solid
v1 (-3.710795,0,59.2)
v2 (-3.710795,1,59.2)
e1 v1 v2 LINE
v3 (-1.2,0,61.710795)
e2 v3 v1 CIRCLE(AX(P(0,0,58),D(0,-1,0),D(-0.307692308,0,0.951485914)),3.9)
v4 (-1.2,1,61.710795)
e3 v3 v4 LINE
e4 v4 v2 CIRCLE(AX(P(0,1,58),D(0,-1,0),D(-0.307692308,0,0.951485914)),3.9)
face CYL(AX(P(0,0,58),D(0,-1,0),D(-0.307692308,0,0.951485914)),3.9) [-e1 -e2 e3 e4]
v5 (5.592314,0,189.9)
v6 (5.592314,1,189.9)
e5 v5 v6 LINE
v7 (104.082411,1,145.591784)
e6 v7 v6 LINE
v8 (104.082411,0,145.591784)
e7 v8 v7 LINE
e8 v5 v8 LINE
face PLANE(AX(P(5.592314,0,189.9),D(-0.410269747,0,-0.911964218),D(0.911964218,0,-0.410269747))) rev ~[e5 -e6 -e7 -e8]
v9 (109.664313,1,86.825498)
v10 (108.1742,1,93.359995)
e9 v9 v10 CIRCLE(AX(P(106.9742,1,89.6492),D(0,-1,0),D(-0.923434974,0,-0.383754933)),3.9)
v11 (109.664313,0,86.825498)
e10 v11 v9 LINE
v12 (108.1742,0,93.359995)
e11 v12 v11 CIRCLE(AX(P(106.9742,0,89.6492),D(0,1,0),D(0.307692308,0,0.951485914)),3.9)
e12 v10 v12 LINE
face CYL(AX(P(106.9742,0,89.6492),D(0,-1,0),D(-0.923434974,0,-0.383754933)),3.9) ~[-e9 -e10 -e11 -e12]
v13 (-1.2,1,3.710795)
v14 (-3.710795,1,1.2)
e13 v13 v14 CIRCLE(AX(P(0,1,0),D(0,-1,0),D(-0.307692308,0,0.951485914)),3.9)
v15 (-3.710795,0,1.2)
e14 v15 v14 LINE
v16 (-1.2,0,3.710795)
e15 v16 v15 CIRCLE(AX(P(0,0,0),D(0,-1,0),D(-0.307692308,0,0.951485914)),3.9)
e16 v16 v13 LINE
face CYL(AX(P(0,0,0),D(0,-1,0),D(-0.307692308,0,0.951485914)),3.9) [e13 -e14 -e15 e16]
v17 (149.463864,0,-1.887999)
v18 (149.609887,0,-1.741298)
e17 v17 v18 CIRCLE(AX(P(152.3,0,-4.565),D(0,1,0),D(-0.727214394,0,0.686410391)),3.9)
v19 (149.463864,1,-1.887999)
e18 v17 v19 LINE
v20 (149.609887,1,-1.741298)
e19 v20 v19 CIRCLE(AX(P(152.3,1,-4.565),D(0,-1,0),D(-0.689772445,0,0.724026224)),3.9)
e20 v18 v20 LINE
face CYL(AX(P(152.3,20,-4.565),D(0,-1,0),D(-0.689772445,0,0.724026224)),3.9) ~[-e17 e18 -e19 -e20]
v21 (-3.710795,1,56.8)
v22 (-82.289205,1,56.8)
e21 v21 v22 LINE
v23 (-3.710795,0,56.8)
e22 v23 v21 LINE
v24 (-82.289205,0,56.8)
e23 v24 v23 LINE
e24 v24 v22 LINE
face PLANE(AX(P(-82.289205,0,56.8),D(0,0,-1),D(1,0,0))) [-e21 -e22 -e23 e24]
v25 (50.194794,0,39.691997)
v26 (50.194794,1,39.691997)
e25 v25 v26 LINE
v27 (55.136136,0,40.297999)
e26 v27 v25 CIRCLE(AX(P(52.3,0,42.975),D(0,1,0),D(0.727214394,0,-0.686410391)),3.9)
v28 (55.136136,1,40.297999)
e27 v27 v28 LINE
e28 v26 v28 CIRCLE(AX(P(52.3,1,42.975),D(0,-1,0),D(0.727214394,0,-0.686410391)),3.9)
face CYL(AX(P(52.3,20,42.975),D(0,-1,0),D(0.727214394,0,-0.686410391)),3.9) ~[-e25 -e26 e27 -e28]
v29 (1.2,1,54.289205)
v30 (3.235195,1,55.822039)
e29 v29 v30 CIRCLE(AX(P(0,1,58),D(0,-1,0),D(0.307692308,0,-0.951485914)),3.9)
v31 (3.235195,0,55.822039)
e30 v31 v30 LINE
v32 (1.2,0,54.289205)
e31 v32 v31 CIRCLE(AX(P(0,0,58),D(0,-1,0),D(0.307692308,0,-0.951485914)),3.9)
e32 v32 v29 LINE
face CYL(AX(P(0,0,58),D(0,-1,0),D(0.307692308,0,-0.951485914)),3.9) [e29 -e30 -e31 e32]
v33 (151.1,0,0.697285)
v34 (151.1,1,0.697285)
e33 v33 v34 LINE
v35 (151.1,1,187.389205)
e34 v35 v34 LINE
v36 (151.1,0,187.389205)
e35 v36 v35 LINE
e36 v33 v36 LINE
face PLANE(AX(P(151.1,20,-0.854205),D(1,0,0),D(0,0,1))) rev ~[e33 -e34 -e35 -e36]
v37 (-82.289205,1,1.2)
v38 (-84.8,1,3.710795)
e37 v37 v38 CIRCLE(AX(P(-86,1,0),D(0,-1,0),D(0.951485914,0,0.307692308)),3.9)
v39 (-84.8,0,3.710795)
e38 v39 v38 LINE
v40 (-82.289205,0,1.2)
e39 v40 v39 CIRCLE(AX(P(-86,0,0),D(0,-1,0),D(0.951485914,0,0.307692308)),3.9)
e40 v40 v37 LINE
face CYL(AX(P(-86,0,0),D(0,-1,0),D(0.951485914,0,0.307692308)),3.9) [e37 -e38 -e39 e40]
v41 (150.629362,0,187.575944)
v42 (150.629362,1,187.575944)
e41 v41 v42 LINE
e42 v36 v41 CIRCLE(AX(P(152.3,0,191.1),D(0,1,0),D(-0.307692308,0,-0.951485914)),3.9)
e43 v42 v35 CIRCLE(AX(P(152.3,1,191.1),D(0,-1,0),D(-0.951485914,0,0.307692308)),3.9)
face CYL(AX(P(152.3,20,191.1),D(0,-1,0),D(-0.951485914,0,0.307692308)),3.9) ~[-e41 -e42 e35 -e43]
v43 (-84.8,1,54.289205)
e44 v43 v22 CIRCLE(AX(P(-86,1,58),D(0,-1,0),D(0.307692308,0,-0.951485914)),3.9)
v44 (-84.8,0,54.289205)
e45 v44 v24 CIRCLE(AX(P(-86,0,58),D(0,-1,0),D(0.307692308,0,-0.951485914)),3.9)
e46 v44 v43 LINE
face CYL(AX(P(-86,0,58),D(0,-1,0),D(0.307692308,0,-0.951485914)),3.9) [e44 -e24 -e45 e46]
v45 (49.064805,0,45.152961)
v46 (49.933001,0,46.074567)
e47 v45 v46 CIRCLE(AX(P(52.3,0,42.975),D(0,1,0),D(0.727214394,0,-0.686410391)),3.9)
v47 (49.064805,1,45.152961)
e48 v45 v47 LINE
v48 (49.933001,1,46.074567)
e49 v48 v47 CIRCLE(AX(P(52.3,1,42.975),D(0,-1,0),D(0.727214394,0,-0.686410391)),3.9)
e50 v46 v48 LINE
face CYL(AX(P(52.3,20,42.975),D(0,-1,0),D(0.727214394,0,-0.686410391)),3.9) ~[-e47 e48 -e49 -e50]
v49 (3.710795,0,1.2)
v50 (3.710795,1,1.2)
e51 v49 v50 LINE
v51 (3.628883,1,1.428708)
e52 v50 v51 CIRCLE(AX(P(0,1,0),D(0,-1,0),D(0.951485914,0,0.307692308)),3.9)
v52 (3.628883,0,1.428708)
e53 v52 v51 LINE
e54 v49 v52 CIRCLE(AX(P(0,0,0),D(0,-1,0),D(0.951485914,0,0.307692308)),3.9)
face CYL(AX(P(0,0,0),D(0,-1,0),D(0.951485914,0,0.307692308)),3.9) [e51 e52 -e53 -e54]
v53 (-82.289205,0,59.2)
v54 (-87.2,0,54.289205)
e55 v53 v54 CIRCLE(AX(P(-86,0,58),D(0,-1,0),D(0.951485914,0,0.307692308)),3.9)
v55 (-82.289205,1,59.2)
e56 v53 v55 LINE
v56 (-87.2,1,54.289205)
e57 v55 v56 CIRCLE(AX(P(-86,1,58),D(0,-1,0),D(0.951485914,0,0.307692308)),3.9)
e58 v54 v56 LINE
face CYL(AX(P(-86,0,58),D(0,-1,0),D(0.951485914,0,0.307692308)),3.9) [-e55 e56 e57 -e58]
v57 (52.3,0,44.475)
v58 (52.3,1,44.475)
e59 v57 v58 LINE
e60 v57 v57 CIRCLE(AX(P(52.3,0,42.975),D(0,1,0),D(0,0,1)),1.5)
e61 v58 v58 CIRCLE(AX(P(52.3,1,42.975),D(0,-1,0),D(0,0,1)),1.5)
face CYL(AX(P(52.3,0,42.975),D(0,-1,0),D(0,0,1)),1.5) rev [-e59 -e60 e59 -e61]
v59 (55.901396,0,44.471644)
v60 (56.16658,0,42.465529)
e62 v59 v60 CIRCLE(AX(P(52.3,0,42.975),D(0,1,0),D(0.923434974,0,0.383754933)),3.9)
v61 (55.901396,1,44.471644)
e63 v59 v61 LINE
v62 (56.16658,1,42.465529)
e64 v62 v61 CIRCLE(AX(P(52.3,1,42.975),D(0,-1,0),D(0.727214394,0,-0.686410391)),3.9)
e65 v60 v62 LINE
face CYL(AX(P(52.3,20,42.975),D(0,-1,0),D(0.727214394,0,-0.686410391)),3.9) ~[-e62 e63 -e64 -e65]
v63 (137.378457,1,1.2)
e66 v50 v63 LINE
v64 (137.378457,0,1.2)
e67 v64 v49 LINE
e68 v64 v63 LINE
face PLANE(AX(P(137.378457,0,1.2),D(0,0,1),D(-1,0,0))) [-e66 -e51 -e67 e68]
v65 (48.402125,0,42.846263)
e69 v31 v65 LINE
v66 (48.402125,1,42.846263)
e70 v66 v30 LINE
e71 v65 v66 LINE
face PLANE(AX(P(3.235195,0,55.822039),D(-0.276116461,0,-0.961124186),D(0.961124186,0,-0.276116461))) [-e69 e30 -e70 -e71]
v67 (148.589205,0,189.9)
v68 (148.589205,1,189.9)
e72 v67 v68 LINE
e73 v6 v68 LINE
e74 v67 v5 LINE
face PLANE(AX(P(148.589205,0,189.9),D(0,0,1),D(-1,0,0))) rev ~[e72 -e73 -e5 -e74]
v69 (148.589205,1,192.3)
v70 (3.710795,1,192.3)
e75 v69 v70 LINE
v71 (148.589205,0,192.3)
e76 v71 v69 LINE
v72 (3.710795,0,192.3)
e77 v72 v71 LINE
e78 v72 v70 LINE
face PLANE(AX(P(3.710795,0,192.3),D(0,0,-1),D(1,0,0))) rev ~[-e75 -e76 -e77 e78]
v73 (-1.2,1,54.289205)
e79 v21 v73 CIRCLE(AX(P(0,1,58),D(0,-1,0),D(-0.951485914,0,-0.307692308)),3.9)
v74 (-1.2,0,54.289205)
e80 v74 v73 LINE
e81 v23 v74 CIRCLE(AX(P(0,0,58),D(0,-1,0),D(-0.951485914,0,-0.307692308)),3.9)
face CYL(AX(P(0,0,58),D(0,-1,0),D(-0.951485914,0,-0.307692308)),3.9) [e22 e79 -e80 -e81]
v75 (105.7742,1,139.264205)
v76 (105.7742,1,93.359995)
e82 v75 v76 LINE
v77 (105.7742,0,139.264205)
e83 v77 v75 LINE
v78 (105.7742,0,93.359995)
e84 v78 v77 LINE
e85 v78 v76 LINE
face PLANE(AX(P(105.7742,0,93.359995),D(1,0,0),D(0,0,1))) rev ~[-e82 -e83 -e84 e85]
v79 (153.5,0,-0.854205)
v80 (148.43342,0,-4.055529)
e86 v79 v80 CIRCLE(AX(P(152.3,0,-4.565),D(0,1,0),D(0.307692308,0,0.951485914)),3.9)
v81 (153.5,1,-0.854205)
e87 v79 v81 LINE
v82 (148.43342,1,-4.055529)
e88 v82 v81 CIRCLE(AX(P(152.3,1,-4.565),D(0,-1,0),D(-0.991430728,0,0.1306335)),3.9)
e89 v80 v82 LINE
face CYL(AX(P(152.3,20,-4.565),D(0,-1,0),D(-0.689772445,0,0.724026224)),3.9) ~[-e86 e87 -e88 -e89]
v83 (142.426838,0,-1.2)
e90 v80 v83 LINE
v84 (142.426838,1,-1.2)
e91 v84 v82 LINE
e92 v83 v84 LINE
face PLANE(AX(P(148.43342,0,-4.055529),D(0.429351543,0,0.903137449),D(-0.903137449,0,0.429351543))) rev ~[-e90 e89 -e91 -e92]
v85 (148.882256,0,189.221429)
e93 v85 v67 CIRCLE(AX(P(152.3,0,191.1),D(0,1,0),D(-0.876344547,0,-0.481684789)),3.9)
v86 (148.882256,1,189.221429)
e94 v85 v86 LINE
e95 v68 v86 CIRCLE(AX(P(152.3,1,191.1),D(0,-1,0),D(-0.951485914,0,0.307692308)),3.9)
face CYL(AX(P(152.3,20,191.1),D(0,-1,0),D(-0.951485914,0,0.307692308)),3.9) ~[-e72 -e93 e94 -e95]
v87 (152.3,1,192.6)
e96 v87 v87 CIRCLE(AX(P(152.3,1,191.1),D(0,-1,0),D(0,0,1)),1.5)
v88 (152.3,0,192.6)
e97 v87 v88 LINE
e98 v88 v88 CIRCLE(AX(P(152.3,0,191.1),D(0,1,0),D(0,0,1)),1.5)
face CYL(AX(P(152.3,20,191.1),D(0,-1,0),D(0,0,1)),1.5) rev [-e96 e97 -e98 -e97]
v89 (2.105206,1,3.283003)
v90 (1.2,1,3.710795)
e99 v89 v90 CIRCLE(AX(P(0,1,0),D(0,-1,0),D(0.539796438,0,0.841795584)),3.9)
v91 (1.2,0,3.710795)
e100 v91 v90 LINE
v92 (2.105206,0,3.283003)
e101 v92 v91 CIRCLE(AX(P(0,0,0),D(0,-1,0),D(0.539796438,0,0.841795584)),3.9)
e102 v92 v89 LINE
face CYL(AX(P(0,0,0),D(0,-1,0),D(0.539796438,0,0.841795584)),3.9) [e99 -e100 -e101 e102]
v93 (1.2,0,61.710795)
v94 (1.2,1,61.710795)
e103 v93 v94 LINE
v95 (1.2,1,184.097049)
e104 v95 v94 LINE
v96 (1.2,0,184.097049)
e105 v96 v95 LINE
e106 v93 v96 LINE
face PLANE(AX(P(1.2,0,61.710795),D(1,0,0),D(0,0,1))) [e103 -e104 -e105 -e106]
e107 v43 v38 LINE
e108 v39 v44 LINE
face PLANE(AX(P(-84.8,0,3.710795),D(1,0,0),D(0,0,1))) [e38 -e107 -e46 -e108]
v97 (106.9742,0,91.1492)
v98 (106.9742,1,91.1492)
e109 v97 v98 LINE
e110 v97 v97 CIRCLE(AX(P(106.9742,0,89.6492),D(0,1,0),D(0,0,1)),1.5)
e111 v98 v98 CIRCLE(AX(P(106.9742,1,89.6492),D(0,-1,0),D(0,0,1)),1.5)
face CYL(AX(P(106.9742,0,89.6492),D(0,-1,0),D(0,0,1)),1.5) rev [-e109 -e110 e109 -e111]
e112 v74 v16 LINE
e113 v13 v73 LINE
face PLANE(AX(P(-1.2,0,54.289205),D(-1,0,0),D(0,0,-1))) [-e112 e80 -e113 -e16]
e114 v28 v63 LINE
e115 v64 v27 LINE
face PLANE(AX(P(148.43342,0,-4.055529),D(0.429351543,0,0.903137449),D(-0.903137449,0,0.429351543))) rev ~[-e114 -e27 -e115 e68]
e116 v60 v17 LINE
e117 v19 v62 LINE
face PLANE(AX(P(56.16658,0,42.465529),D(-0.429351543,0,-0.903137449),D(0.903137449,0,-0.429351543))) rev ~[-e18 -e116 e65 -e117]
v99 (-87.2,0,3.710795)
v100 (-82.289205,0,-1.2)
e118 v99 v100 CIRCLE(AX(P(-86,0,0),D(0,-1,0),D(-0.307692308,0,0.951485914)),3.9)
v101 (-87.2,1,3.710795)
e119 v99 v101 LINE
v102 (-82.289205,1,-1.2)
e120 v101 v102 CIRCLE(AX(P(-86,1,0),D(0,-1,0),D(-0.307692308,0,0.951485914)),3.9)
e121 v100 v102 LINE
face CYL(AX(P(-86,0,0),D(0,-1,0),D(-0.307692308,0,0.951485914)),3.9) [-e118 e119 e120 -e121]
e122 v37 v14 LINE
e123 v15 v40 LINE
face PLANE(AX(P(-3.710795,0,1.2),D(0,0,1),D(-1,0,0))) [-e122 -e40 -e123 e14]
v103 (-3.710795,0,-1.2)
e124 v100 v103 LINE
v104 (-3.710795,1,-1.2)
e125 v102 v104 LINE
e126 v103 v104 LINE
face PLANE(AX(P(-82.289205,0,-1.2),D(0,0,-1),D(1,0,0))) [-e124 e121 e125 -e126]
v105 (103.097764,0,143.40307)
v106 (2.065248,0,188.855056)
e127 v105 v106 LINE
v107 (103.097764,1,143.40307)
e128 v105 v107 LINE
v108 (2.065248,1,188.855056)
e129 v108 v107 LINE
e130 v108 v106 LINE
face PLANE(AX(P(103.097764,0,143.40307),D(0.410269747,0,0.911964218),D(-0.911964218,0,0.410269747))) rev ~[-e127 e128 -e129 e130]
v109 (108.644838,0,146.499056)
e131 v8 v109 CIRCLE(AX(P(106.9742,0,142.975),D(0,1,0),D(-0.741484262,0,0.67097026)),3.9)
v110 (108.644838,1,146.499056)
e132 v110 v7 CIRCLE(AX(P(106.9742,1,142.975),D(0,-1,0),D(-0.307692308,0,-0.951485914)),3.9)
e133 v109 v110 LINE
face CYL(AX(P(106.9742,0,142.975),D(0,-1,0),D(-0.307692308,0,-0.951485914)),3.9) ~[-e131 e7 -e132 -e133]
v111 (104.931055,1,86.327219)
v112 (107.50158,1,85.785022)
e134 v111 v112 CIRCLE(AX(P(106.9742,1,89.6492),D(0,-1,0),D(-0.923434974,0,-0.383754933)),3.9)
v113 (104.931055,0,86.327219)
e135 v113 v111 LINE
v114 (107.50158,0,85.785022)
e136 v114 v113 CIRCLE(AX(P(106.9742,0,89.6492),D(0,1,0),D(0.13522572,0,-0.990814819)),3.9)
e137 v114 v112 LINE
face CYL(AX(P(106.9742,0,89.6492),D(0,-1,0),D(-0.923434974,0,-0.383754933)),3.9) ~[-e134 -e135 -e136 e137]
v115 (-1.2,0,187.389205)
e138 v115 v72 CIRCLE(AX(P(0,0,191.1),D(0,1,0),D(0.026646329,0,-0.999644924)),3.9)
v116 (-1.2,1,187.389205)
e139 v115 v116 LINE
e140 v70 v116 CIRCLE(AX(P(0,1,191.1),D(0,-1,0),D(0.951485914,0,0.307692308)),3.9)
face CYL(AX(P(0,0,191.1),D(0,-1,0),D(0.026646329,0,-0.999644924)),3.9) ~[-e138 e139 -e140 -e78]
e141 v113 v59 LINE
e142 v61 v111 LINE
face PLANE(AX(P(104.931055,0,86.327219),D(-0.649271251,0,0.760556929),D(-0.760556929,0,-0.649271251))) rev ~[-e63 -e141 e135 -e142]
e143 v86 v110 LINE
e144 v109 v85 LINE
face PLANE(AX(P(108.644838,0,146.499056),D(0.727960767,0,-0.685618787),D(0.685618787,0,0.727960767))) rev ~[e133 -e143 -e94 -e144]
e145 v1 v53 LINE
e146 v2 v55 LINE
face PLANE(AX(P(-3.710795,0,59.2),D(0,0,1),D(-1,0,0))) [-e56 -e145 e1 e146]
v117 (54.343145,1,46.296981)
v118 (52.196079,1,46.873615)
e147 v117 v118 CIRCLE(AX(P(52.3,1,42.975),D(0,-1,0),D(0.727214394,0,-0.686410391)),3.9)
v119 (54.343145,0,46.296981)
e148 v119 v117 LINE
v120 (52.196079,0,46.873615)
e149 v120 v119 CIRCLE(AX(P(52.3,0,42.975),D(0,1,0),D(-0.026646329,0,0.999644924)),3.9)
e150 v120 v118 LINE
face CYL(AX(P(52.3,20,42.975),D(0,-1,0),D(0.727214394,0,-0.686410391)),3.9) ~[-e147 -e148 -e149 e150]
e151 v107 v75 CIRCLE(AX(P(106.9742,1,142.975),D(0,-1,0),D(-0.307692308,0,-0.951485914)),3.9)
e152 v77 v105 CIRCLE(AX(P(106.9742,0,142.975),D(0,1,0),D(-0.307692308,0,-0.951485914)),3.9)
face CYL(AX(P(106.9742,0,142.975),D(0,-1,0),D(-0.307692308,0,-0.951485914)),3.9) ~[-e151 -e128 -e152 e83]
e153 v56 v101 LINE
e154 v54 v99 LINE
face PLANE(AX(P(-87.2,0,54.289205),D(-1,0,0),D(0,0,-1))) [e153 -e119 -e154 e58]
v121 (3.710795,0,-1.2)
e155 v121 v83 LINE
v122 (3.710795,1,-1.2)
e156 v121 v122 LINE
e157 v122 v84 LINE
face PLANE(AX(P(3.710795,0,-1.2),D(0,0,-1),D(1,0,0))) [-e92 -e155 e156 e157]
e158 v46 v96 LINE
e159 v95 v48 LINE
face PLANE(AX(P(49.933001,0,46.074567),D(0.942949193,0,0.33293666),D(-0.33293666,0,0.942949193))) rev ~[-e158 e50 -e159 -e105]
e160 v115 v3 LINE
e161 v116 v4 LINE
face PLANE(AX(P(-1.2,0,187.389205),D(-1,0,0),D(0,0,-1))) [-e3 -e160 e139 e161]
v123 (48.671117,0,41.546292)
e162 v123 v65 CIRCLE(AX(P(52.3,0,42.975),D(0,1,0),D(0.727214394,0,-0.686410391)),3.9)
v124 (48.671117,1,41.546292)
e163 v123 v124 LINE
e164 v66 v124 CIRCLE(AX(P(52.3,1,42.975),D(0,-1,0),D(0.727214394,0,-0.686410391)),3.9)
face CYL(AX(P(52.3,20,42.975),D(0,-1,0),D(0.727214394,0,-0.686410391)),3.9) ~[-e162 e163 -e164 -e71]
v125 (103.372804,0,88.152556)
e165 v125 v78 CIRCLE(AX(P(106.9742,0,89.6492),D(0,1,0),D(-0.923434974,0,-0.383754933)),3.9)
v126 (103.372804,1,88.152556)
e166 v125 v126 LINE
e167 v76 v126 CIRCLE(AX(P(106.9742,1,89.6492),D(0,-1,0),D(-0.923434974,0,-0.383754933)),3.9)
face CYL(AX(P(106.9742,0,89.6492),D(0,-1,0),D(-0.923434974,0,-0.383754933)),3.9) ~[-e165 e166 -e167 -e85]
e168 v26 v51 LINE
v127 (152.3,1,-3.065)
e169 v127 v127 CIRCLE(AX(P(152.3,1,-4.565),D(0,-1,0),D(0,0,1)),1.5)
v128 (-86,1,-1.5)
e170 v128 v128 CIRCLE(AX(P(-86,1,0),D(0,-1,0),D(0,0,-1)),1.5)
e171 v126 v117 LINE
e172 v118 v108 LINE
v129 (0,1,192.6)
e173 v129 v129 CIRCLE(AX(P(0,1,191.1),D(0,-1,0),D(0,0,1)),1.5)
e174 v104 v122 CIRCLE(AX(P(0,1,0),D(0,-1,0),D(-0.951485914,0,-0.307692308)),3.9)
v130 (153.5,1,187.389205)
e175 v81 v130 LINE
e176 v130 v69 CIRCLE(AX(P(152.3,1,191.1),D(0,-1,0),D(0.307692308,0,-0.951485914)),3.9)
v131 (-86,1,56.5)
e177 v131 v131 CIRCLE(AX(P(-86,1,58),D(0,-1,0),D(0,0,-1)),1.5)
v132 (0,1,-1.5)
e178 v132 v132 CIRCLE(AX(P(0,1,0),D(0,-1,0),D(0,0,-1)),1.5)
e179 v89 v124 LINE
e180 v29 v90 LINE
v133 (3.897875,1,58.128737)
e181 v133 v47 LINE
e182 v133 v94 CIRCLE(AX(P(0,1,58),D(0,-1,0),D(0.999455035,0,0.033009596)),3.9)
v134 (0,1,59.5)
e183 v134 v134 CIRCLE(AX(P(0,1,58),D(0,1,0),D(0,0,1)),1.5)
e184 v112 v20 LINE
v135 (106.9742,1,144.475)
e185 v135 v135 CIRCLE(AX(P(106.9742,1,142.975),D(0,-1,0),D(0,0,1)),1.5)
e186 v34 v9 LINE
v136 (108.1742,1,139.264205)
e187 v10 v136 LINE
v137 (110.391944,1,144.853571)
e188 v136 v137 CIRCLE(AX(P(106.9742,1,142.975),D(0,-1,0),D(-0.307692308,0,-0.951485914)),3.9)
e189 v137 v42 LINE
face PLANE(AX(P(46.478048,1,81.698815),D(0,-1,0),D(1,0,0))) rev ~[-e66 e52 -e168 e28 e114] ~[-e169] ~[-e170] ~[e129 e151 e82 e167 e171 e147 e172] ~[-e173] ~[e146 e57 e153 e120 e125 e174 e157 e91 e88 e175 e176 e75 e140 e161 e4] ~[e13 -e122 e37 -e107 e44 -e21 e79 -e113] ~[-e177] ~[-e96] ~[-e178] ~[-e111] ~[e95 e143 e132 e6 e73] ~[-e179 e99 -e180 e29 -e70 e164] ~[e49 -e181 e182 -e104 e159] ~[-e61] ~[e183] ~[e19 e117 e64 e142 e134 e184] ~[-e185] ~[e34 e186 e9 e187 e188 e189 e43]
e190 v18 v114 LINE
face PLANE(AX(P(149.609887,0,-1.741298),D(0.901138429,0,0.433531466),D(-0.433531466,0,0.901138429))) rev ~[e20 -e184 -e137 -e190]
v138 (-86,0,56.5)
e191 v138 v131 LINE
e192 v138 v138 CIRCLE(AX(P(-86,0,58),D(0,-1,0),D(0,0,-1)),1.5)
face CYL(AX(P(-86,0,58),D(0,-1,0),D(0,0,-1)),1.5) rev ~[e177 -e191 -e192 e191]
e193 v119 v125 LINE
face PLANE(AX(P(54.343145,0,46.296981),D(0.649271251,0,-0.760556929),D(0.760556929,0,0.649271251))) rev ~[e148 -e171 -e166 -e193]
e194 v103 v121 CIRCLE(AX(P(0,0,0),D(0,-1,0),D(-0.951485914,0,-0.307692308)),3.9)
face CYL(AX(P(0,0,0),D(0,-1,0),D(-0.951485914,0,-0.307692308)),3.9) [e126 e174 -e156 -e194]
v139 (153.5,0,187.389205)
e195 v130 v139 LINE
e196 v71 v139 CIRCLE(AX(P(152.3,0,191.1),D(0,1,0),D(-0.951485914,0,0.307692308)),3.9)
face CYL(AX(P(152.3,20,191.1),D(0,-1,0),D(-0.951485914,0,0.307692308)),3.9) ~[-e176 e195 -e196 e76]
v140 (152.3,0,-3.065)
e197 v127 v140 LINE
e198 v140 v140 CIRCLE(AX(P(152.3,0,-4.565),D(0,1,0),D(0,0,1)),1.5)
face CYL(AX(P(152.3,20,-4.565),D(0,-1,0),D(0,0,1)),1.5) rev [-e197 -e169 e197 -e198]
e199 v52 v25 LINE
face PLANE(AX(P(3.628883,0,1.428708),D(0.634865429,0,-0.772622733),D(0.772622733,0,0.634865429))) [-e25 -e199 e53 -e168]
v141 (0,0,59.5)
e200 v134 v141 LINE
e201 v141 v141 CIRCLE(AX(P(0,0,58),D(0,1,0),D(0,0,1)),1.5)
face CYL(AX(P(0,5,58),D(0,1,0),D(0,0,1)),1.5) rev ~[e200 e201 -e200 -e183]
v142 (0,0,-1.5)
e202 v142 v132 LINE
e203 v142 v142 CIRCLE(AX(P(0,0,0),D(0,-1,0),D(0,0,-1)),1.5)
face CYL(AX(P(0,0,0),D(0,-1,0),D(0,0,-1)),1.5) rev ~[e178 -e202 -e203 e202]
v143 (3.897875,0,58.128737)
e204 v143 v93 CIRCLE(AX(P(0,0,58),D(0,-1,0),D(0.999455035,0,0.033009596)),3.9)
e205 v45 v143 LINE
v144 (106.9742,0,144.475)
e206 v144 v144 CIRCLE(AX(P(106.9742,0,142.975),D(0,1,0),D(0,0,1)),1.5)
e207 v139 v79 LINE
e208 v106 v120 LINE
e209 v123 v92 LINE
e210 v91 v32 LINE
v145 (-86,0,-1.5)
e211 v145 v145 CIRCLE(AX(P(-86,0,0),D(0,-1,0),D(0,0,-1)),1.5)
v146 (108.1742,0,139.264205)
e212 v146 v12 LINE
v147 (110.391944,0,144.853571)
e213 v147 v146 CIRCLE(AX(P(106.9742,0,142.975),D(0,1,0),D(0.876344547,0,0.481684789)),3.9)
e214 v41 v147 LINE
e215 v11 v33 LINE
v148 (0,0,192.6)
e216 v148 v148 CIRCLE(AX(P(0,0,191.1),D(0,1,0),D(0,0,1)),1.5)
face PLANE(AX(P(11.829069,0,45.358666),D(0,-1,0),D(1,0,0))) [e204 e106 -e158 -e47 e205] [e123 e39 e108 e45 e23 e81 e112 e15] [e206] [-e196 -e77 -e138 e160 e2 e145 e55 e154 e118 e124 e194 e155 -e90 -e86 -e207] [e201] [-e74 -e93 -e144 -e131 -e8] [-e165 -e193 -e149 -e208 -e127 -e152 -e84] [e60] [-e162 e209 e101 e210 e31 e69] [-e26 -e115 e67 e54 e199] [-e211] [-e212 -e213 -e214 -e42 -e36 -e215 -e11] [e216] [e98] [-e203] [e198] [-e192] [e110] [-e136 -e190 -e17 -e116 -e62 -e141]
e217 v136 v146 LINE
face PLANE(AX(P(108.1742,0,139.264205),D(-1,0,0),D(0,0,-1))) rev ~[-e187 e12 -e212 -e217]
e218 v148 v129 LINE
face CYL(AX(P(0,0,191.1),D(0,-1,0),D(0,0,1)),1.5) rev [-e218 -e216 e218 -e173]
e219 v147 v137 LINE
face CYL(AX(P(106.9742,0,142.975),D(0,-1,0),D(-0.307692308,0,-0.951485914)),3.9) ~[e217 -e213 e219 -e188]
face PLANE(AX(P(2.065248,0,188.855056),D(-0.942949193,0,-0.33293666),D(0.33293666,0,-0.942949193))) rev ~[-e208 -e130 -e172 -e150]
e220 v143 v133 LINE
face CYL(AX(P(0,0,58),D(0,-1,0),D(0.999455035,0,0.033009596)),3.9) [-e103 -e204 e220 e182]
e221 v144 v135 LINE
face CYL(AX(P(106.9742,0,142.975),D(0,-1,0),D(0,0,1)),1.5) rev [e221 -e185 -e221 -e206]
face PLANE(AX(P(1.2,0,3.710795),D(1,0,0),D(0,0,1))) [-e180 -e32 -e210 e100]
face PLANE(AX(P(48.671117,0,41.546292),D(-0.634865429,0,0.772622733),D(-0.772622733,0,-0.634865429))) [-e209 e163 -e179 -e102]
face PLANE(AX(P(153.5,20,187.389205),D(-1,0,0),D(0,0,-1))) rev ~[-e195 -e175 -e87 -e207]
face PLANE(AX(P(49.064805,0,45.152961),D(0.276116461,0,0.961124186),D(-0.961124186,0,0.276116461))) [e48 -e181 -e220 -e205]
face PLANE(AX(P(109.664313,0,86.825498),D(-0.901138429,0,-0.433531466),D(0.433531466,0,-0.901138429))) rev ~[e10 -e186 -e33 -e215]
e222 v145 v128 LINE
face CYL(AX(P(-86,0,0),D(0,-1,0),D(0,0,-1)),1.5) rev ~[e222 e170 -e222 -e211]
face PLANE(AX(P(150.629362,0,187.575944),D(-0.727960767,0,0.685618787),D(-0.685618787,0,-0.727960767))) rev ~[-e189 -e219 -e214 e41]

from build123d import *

# Parameters (mm, degrees)
SKETCH1_R           = 1.5000000000001341
SKETCH1_R_2         = 1.5000000000000266
SKETCH1_R_3         = 1.4999999999999927
SKETCH1_R_4         = 1.5000000000003626
SKETCH1_R_5         = 1.4999999999999407
SKETCH1_R_6         = 1.500000000000151
BOSS_EXTRUDE1_DEPTH = 20
SKETCH2_R           = 1.500000000000026
SKETCH2_R_2         = 1.5000000000000242
SKETCH2_R_3         = 1.5000000000000282
SKETCH2_R_4         = 1.4999999999999991
BOSS_EXTRUDE2_DEPTH = 4.8
SKETCH3_R           = 1.4999999999999336
SKETCH3_R_2         = 1.5000000000000355
SKETCH3_R_3         = 1.500000000000057
BOSS_EXTRUDE3_DEPTH = 5
SKETCH4_R           = 1.5000000000000266
CUT_EXTRUDE1_DEPTH  = 251.6301657821741
SKETCH5_R           = 1.5000000000000258
SKETCH5_R_2         = 1.500000000000026
SKETCH5_R_3         = 1.5000000000000289
BOSS_EXTRUDE4_DEPTH = 4.7
CUT_EXTRUDE2_START  = -1
CUT_EXTRUDE2_DEPTH  = 251.07465025366474


with BuildPart() as part:
    # Sketch1 → Boss-Extrude1 (new body)
    with BuildSketch(Plane(origin=(0, 0, 0), x_dir=(1, 0, 0), z_dir=(0, 1, 0))):
        with BuildLine():
            ThreePointArc((153.5, 0.854204936944094), (154.38321422631046, 7.862001438777041), (148.43342016008168, 4.0555293516432975))
            Line((148.4334201600817, 4.05552935164329), (55.136136135840104, -40.297999473481156))
            ThreePointArc((55.136136135840104, -40.297999473481205), (49.4022066675553, -40.36486709103945), (49.9330012537212, -46.07456721738933))
            Line((49.93300125372118, -46.07456721738933), (0.10392068340978255, -187.20138479821878))
            ThreePointArc((0.10392068340981986, -187.2013847982188), (-3.183862952537658, -193.35233583185502), (3.7107950630558904, -192.30000000000007))
            Line((3.7107950630558797, -192.30000000000007), (148.58920493694413, -192.30000000000004))
            ThreePointArc((148.58920493694416, -192.29999999999998), (155.05771644662758, -193.8577164466275), (153.5, -187.38920493694408))
            Line((153.5, -187.38920493694408), (153.50000000000006, 0.8542049369440861))
        make_face()
        with Locations(Location((-8.848e-14, -191.1000000000001, 0), (0, 0, 270))):
            Circle(SKETCH1_R, mode=Mode.SUBTRACT)
        with BuildLine():
            ThreePointArc((103.3728036004878, -88.15255576252058), (103.43263144023695, -91.28238466086896), (105.77419999999994, -93.35999506305585))
            Line((105.77420000000004, -93.35999506305582), (105.77420000000004, -139.26420493694414))
            ThreePointArc((105.77419999999995, -139.26420493694414), (103.6992799358026, -140.85724208817035), (103.09776398625954, -143.4030698907605))
            Line((103.09776398625954, -143.4030698907605), (2.065248361956577, -188.85505564451773))
            Line((2.065248361956572, -188.85505564451773), (52.196079316590236, -46.87361520178129))
            ThreePointArc((52.19607931659019, -46.873615201781234), (53.3115705172937, -46.74152692656541), (54.34314539722364, -46.296980867766095))
            Line((54.34314539722364, -46.296980867766095), (103.3728036004877, -88.15255576252065))
        make_face(mode=Mode.SUBTRACT)
        with BuildLine():
            ThreePointArc((104.08241137935872, -145.59178401354208), (106.21355041942587, -146.8001029026122), (108.64483789051103, -146.49905576556174))
            Line((108.64483789051097, -146.49905576556182), (148.88225626835828, -189.22142932397452))
            ThreePointArc((148.88225626835816, -189.22142932397455), (148.7196186128475, -189.5537564478609), (148.58920493694413, -189.90000000000006))
            Line((148.5892049369441, -189.9), (5.592313538765211, -189.9))
            Line((5.5923135387652225, -189.9), (104.08241137935869, -145.59178401354194))
        make_face(mode=Mode.SUBTRACT)
        with Locations(Location((106.97420000000002, -142.975, 0), (0, 0, 270))):
            Circle(SKETCH1_R_2, mode=Mode.SUBTRACT)
        with Locations(Location((152.3, -191.09999999999997, 0), (0, 0, 270))):
            Circle(SKETCH1_R_3, mode=Mode.SUBTRACT)
        with BuildLine():
            Line((108.17420000000006, -139.26420493694408), (108.17420000000006, -93.35999506305589))
            ThreePointArc((108.17420000000001, -93.35999506305588), (110.7765884274194, -90.51628837325106), (109.66431253714993, -86.82549772506573))
            Line((109.66431253715001, -86.82549772506573), (151.10000000000005, -0.6972849684802185))
            Line((151.10000000000005, -0.6972849684802256), (151.09999999999997, -187.38920493694414))
            ThreePointArc((151.09999999999997, -187.38920493694414), (150.861647342994, -187.47492874082678), (150.62936210948922, -187.57594423443817))
            Line((150.62936210948916, -187.57594423443825), (110.3919437316418, -144.85357067602544))
            ThreePointArc((110.39194373164192, -144.85357067602538), (110.5992712591732, -141.53664734299386), (108.17420000000001, -139.2642049369441))
        make_face(mode=Mode.SUBTRACT)
        with Locations(Location((52.29999999999968, -42.97500000000005, 0), (0, 0, 270))):
            Circle(SKETCH1_R_4, mode=Mode.SUBTRACT)
        with Locations(Location((106.9742, -89.6491999999999, 0), (0, 0, 270))):
            Circle(SKETCH1_R_5, mode=Mode.SUBTRACT)
        with BuildLine():
            Line((149.6098874628501, 1.7412977250657464), (107.501580307415, -85.78502220759042))
            ThreePointArc((107.50158030741511, -85.78502220759047), (106.16928986331158, -85.83316545195719), (104.93105460277636, -86.32721913223392))
            Line((104.93105460277634, -86.32721913223394), (55.901396399512244, -44.47164423747948))
            ThreePointArc((55.90139639951222, -44.471644237479474), (56.16636670686683, -43.48608559755858), (56.16657983991836, -42.46552935164333))
            Line((56.166579839918334, -42.4655293516433), (149.46386386415992, 1.8879994734811447))
            ThreePointArc((149.46386386415995, 1.887999473481198), (149.53590223586832, 1.8136796714446448), (149.6098874628501, 1.7412977250657597))
        make_face(mode=Mode.SUBTRACT)
        with Locations(Location((152.3000000000001, 4.5650000000001185, 0), (0, 0, 270))):
            Circle(SKETCH1_R_6, mode=Mode.SUBTRACT)
    extrude(amount=BOSS_EXTRUDE1_DEPTH)

    # Sketch2 → Boss-Extrude2 (add)
    # profile 1 of 8: a face of its own
    with BuildSketch(Plane(origin=(0, 20, 0), x_dir=(1, 0, 0), z_dir=(0, 1, 0))):
        with BuildLine():
            ThreePointArc((151.10000000000005, -187.3892049369441), (152.30000000000004, -187.2), (153.50000000000006, -187.3892049369441))
            Line((153.50000000000006, -187.3892049369441), (153.50000000000006, 0.8542049369441145))
            ThreePointArc((153.50000000000006, 0.854204936944114), (152.30000000000007, 0.6650000000000027), (151.10000000000008, 0.8542049369440972))
            Line((151.10000000000008, 0.8542049369441145), (151.10000000000008, -0.6972849684802327))
            Line((151.10000000000008, -0.6972849684802327), (151.10000000000005, -187.3892049369441))
        make_face()
    # profile 2 of 8: a face of its own
    with BuildSketch(Plane(origin=(0, 20, 0), x_dir=(1, 0, 0), z_dir=(0, 1, 0))):
        with BuildLine():
            ThreePointArc((151.10000000000008, 0.8542049369440972), (152.30000000000007, 0.6650000000000027), (153.50000000000006, 0.854204936944114))
            ThreePointArc((153.50000000000006, 0.8542049369441145), (155.45356940624433, 2.2704412188832563), (156.20000000000005, 4.5649999999999995))
            ThreePointArc((156.20000000000005, 4.5649999999999995), (152.04471719180643, 8.456635991179125), (148.4334201600817, 4.055529351643286))
            ThreePointArc((148.4334201600817, 4.055529351643285), (148.7777639479866, 2.890528980872804), (149.46386386415998, 1.887999473481146))
            ThreePointArc((149.46386386416, 1.8879994734811634), (149.53590223586832, 1.813679671444651), (149.60988746285008, 1.7412977250658015))
            ThreePointArc((149.60988746285008, 1.7412977250657988), (150.30501195702655, 1.2138773957981126), (151.10000000000008, 0.8542049369440972))
        make_face()
        with Locations(Location((152.30000000000004, 4.5649999999999995, 0), (0, 0, 270))):
            Circle(SKETCH2_R, mode=Mode.SUBTRACT)
    # profile 3 of 8: a face of its own
    with BuildSketch(Plane(origin=(0, 20, 0), x_dir=(1, 0, 0), z_dir=(0, 1, 0))):
        with BuildLine():
            ThreePointArc((156.20000000000005, -191.1), (155.45356940624436, -188.80544121888326), (153.50000000000006, -187.3892049369441))
            ThreePointArc((153.50000000000006, -187.3892049369441), (152.30000000000004, -187.2), (151.10000000000005, -187.3892049369441))
            ThreePointArc((151.10000000000005, -187.3892049369441), (150.861647342994, -187.47492874082678), (150.62936210948916, -187.5759442344382))
            ThreePointArc((150.62936210948916, -187.5759442344382), (149.62608672950364, -188.2609530081622), (148.88225626835825, -189.22142932397443))
            ThreePointArc((148.88225626835825, -189.22142932397443), (148.71961861284757, -189.55375644786082), (148.58920493694416, -189.9))
            ThreePointArc((148.58920493694416, -189.9), (148.40000000000003, -191.10000000000002), (148.58920493694416, -192.30000000000004))
            ThreePointArc((148.58920493694416, -192.30000000000004), (152.90741223813905, -194.95240838605656), (156.20000000000005, -191.1))
        make_face()
        with Locations(Location((152.30000000000004, -191.1, 0), (0, 0, 270))):
            Circle(SKETCH2_R_2, mode=Mode.SUBTRACT)
    # profile 4 of 8: a face of its own
    with BuildSketch(Plane(origin=(0, 20, 0), x_dir=(1, 0, 0), z_dir=(0, 1, 0))):
        with BuildLine():
            ThreePointArc((108.17420000000006, -93.35999506305586), (106.97420000000004, -93.54919999999997), (105.77420000000002, -93.35999506305588))
            Line((105.77420000000004, -93.35999506305588), (105.77420000000004, -139.2642049369441))
            ThreePointArc((105.77420000000002, -139.2642049369441), (106.97420000000004, -139.075), (108.17420000000006, -139.2642049369441))
            Line((108.17420000000006, -139.2642049369441), (108.17420000000006, -93.35999506305586))
        make_face()
    # profile 5 of 8: a face of its own
    with BuildSketch(Plane(origin=(0, 20, 0), x_dir=(1, 0, 0), z_dir=(0, 1, 0))):
        with BuildLine():
            ThreePointArc((108.17420000000006, -139.2642049369441), (106.97420000000004, -139.075), (105.77420000000002, -139.2642049369441))
            ThreePointArc((105.77420000000002, -139.2642049369441), (103.69927993580262, -140.85724208817032), (103.09776398625954, -143.4030698907605))
            ThreePointArc((103.09776398625954, -143.4030698907605), (103.4175395504801, -144.575052013786), (104.08241137935862, -145.59178401354197))
            ThreePointArc((104.08241137935862, -145.59178401354197), (106.21355041942574, -146.80010290261217), (108.64483789051093, -146.49905576556176))
            ThreePointArc((108.64483789051093, -146.49905576556176), (109.64811327049645, -145.81404699183776), (110.39194373164183, -144.85357067602556))
            ThreePointArc((110.3919437316418, -144.85357067602553), (110.75171244560511, -143.94474209112445), (110.8742, -142.975))
            ThreePointArc((110.8742, -142.975), (110.12776940624433, -140.68044121888326), (108.17420000000006, -139.2642049369441))
        make_face()
        with Locations(Location((106.97420000000002, -142.975, 0), (0, 0, 270))):
            Circle(SKETCH2_R_2, mode=Mode.SUBTRACT)
    # profile 6 of 8: a face of its own
    with BuildSketch(Plane(origin=(0, 20, 0), x_dir=(1, 0, 0), z_dir=(0, 1, 0))):
        with BuildLine():
            ThreePointArc((103.37280360048776, -88.15255576252066), (103.43263144023699, -91.28238466086904), (105.77420000000002, -93.35999506305588))
            ThreePointArc((105.77420000000002, -93.35999506305588), (106.97420000000004, -93.54919999999997), (108.17420000000006, -93.35999506305586))
            ThreePointArc((108.17420000000006, -93.35999506305586), (110.12776940624433, -91.94375878111673), (110.87420000000002, -89.64919999999998))
            ThreePointArc((110.87420000000002, -89.64919999999998), (110.55899001441402, -88.11320502847254), (109.66431253714997, -86.82549772506577))
            ThreePointArc((109.66431253714997, -86.82549772506577), (108.6649727158974, -86.13476012668062), (107.50158030741501, -85.78502220759047))
            ThreePointArc((107.50158030741501, -85.78502220759047), (106.16928986331155, -85.8331654519572), (104.93105460277637, -86.32721913223392))
            ThreePointArc((104.93105460277637, -86.32721913223392), (104.00802797578407, -87.117042121281), (103.37280360048776, -88.15255576252066))
        make_face()
        with Locations(Location((106.97420000000002, -89.64919999999998, 0), (0, 0, 270))):
            Circle(SKETCH2_R_3, mode=Mode.SUBTRACT)
    # profile 7 of 8: a face of its own
    with BuildSketch(Plane(origin=(0, 20, 0), x_dir=(1, 0, 0), z_dir=(0, 1, 0))):
        with BuildLine():
            ThreePointArc((3.9000000000000385, -191.10000000000002), (3.639229013163515, -189.69785443346666), (2.8917886206414805, -188.48321598645808))
            Line((2.8917886206414494, -188.48321598645805), (2.0652483619565345, -188.85505564451776))
            Line((2.0652483619565296, -188.85505564451776), (2.3669987462788447, -188.00043278261063))
            ThreePointArc((2.3669987462787443, -188.00043278261063), (1.2984529746368263, -187.42249814783776), (0.10392068340977106, -187.20138479821878))
            ThreePointArc((0.10392068340977109, -187.20138479821878), (-3.1838629525376483, -193.35233583185502), (3.71079506305589, -192.30000000000004))
            ThreePointArc((3.710795063055924, -192.30000000000004), (3.8524083860566067, -191.70741223813903), (3.9000000000000385, -191.10000000000002))
        make_face()
        with Locations(Location((2.776e-14, -191.10000000000002, 0), (0, 0, 270))):
            Circle(SKETCH2_R_4, mode=Mode.SUBTRACT)
    # profile 8 of 8: a face of its own
    with BuildSketch(Plane(origin=(0, 20, 0), x_dir=(1, 0, 0), z_dir=(0, 1, 0))):
        with BuildLine():
            ThreePointArc((49.93300125372118, -46.07456721738931), (51.00154702536313, -46.652501852162246), (52.19607931659024, -46.873615201781234))
            ThreePointArc((52.19607931659024, -46.873615201781234), (53.311570517293724, -46.741526926565406), (54.34314539722362, -46.29698086776611))
            ThreePointArc((54.34314539722362, -46.29698086776611), (55.266172024215926, -45.50715787871904), (55.90139639951226, -44.47164423747939))
            ThreePointArc((55.90139639951226, -44.47164423747939), (56.124620632043, -43.738070783709574), (56.20000000000001, -42.975000000000016))
            ThreePointArc((56.20000000000001, -42.975000000000016), (56.19163599117914, -42.71971719180637), (56.16657983991835, -42.46552935164326))
            ThreePointArc((56.16657983991835, -42.46552935164326), (55.82223605201343, -41.300528980872805), (55.136136135840076, -40.29799947348117))
            ThreePointArc((55.136136135840076, -40.29799947348116), (49.40220666755529, -40.36486709103945), (49.93300125372118, -46.07456721738931))
        make_face()
        with Locations(Location((52.30000000000001, -42.975000000000016, 0), (0, 0, 270))):
            Circle(SKETCH2_R, mode=Mode.SUBTRACT)
    extrude(amount=BOSS_EXTRUDE2_DEPTH)



with BuildPart() as body_2:
    # Sketch3 → Boss-Extrude3 (new body)
    with BuildSketch(Plane.XZ):
        with BuildLine():
            Line((137.37845728325527, 1.200000000000005), (3.71079506305594, 1.199999999999998))
            ThreePointArc((3.710795063055913, 1.1999999999999462), (3.6716203346799547, 1.3149920600386407), (3.628883136841208, 1.4287082204388433))
            Line((3.628883136841213, 1.4287082204388344), (50.19479389277008, 39.691997221127956))
            ThreePointArc((50.19479389277007, 39.69199722112795), (49.28677134254604, 40.499024826881744), (48.67111686315881, 41.546291779561194))
            Line((48.67111686315881, 41.546291779561194), (2.105206107229961, 3.2830027788720457))
            ThreePointArc((2.105206107229945, 3.283002778872073), (1.6663878337347684, 3.526067439454435), (1.19999999999995, 3.7107950630559117))
            Line((1.2000000000000008, 3.710795063055926), (1.1999999999999664, 54.289204936944074))
            ThreePointArc((1.1999999999999607, 54.28920493694409), (2.346302264669601, 54.88473665915603), (3.2351951302831314, 55.82203937845692))
            Line((3.2351951302831328, 55.822039378457), (48.402125364294776, 42.84626257604746))
            ThreePointArc((48.402125364294804, 42.84626257604746), (48.55161567606957, 44.051854196310934), (49.06480486971691, 45.15296062154312))
            Line((49.06480486971694, 45.152960621543), (3.89787463570525, 58.12873742395266))
            ThreePointArc((3.897874635705213, 58.1287374239526), (3.1152633408439394, 60.34630226466963), (1.1999999999999666, 61.710795063055905))
            Line((1.2000000000000157, 61.71079506305591), (1.200000000000001, 184.09704925768483))
            Line((1.199999999999998, 184.09704925768483), (0.10392068340978255, 187.20138479821878))
            ThreePointArc((0.10392068340981803, 187.2013847982188), (-0.55602748870172, 187.2398402323469), (-1.2000000000000701, 187.38920493694417))
            Line((-1.2000000000000595, 187.3892049369442), (-1.1999999999999875, 61.710795063055855))
            ThreePointArc((-1.200000000000067, 61.710795063055876), (-2.7577164466275903, 60.757716446627484), (-3.7107950630559223, 59.199999999999925))
            Line((-3.71079506305594, 59.19999999999993), (-82.28920493694406, 59.19999999999996))
            ThreePointArc((-82.28920493694409, 59.19999999999991), (-88.75771644662751, 60.75771644662754), (-87.19999999999999, 54.28920493694409))
            Line((-87.19999999999999, 54.28920493694409), (-87.2, 3.7107950630558975))
            ThreePointArc((-87.19999999999999, 3.710795063055896), (-88.75771644662751, -2.75771644662756), (-82.28920493694409, -1.1999999999999194))
            Line((-82.28920493694406, -1.1999999999999253), (-3.71079506305594, -1.199999999999997))
            ThreePointArc((-3.7107950630559174, -1.199999999999933), (-7.64e-15, -3.9000000000000012), (3.710795063055914, -1.1999999999999442))
            Line((3.7107950630559285, -1.2), (142.42683759457205, -1.2))
            Line((142.42683759457205, -1.1999999999999886), (137.37845728325527, 1.20000000000001))
        make_face()
        with Locations(Location((-86.00000000000006, -7.722e-14, 0), (0, 0, 270))):
            Circle(SKETCH3_R, mode=Mode.SUBTRACT)
        with Locations(Location((-7.05e-15, -6.72e-15, 0), (0, 0, 270))):
            Circle(SKETCH3_R_2, mode=Mode.SUBTRACT)
        with BuildLine():
            Line((-3.71079506305594, 1.2), (-82.28920493694409, 1.2))
            ThreePointArc((-82.2892049369441, 1.1999999999999682), (-83.24228355337245, 2.7577164466275095), (-84.79999999999997, 3.710795063055881))
            Line((-84.79999999999998, 3.710795063055878), (-84.79999999999997, 54.28920493694411))
            ThreePointArc((-84.79999999999997, 54.2892049369441), (-83.24228355337245, 55.242283553372474), (-82.2892049369441, 56.80000000000002))
            Line((-82.28920493694409, 56.79999999999999), (-3.71079506305594, 56.79999999999999))
            ThreePointArc((-3.710795063055918, 56.80000000000006), (-2.757716446627586, 55.24228355337251), (-1.200000000000069, 54.289204936944124))
            Line((-1.2000000000000624, 54.289204936944145), (-1.200000000000004, 3.7107950630558477))
            ThreePointArc((-1.200000000000083, 3.710795063055869), (-2.757716446627592, 2.75771644662748), (-3.7107950630559174, 1.1999999999999338))
        make_face(mode=Mode.SUBTRACT)
        with Locations(Location((-85.99999999999996, 57.999999999999986, 0), (0, 0, 270))):
            Circle(SKETCH3_R_3, mode=Mode.SUBTRACT)
    extrude(amount=-BOSS_EXTRUDE3_DEPTH)

    # Sketch4 → Cut-Extrude1 (cut, through all)
    with BuildSketch(Plane(origin=(0, 5, 0), x_dir=(1, 0, 0), z_dir=(0, 1, 0))):
        with Locations(Location((-1.84e-15, -58, 0), (0, 0, 270))):
            Circle(SKETCH4_R)
    extrude(amount=-CUT_EXTRUDE1_DEPTH, mode=Mode.SUBTRACT)


with BuildPart() as part_1:
    add(part.part)

    add(body_2.part)  # Boss-Extrude4 merges body 2
    # Sketch5 → Boss-Extrude4 (add)
    # profile 1 of 4: a face of its own
    with BuildSketch(Plane(origin=(0, 5, 0), x_dir=(1, 0, 0), z_dir=(0, 1, 0))):
        with BuildLine():
            ThreePointArc((-82.10000000000001, 0), (-82.14759161394343, 0.6074122381389802), (-82.2892049369441, 1.199999999999999))
            ThreePointArc((-82.28920493694412, 1.1999999999999962), (-88.75771644662755, 2.7577164466275432), (-87.2, -3.710795063055894))
            ThreePointArc((-87.2, -3.7107950630558917), (-86, -3.8999999999999977), (-84.79999999999998, -3.7107950630558877))
            ThreePointArc((-84.79999999999998, -3.710795063055892), (-83.24228355337246, -2.7577164466275286), (-82.2892049369441, -1.1999999999999988))
            ThreePointArc((-82.2892049369441, -1.199999999999999), (-82.14759161394343, -0.6074122381389806), (-82.10000000000001, -9.6e-16))
        make_face()
        with Locations(Location((-86, 0, 0), (0, 0, 90))):
            Circle(SKETCH5_R, mode=Mode.SUBTRACT)
    # profile 2 of 4: a face of its own
    with BuildSketch(Plane(origin=(0, 5, 0), x_dir=(1, 0, 0), z_dir=(0, 1, 0))):
        with BuildLine():
            ThreePointArc((-84.79999999999998, -54.2892049369441), (-86, -54.09999999999999), (-87.2, -54.289204936944095))
            ThreePointArc((-87.2, -54.28920493694411), (-88.75771644662751, -60.75771644662753), (-82.28920493694409, -59.199999999999996))
            ThreePointArc((-82.2892049369441, -59.19999999999999), (-82.14759161394343, -58.60741223813897), (-82.10000000000001, -57.999999999999986))
            ThreePointArc((-82.10000000000001, -57.999999999999986), (-82.14759161394343, -57.39258776186101), (-82.2892049369441, -56.79999999999999))
            ThreePointArc((-82.2892049369441, -56.79999999999999), (-83.24228355337246, -55.24228355337246), (-84.79999999999998, -54.2892049369441))
        make_face()
        with Locations(Location((-86, -57.999999999999986, 0), (0, 0, 90))):
            Circle(SKETCH5_R_2, mode=Mode.SUBTRACT)
    # profile 3 of 4: a face of its own
    with BuildSketch(Plane(origin=(0, 5, 0), x_dir=(1, 0, 0), z_dir=(0, 1, 0))):
        with BuildLine():
            ThreePointArc((-3.7107950630558952, -56.79999999999999), (-3.9000000000000044, -57.999999999999986), (-3.7107950630559032, -59.19999999999999))
            ThreePointArc((-3.7107950630559037, -59.19999999999999), (-2.757716446627537, -60.75771644662754), (-1.199999999999984, -61.710795063055905))
            ThreePointArc((-1.1999999999999855, -61.710795063055905), (1.823e-14, -61.900000000000006), (1.200000000000017, -61.71079506305589))
            ThreePointArc((1.200000000000016, -61.71079506305589), (3.115263340843935, -60.346302264669646), (3.89787463570521, -58.12873742395267))
            ThreePointArc((3.8978746357052114, -58.12873742395267), (3.899468622726072, -58.064377483445995), (3.900000000000001, -58))
            ThreePointArc((3.900000000000001, -58), (3.730097921509862, -56.86141776935181), (3.235195130283174, -55.822039378456985))
            ThreePointArc((3.23519513028317, -55.822039378456985), (2.3463022646696547, -54.884736659156076), (1.200000000000015, -54.28920493694412))
            ThreePointArc((1.200000000000018, -54.28920493694411), (1.658e-14, -54.099999999999994), (-1.1999999999999864, -54.289204936944095))
            ThreePointArc((-1.199999999999985, -54.2892049369441), (-2.757716446627525, -55.24228355337246), (-3.710795063055893, -56.79999999999999))
        make_face()
        with Locations(Location((-1.84e-15, -58, 0), (0, 0, 270))):
            Circle(SKETCH5_R_3, mode=Mode.SUBTRACT)
    # profile 4 of 4: a face of its own
    with BuildSketch(Plane(origin=(0, 5, 0), x_dir=(1, 0, 0), z_dir=(0, 1, 0))):
        with BuildLine():
            ThreePointArc((-3.7107950630558957, 1.2000000000000015), (-3.9000000000000017, 4.8e-16), (-3.7107950630558966, -1.1999999999999988))
            ThreePointArc((-3.7107950630558957, -1.1999999999999997), (-2.7577164466275357, -2.7577164466275366), (-1.1999999999999984, -3.710795063055896))
            ThreePointArc((-1.2, -3.710795063055896), (-7.2e-16, -3.9000000000000017), (1.1999999999999986, -3.7107950630558966))
            ThreePointArc((1.2000000000000013, -3.7107950630558957), (1.6663878337348053, -3.526067439454418), (2.105206107229968, -3.28300277887206))
            ThreePointArc((2.1052061072299666, -3.283002778872059), (3.0132286574539884, -2.47597517311827), (3.6288831368412127, -1.4287082204388324))
            ThreePointArc((3.6288831368412136, -1.4287082204388306), (3.671620334679948, -1.3149920600386606), (3.710795063055896, -1.2000000000000002))
            ThreePointArc((3.710795063055896, -1.2000000000000004), (3.8524083860565725, -0.6074122381389813), (3.9000000000000017, -9.6e-16))
            ThreePointArc((3.9000000000000017, 0), (3.8524083860565725, 0.6074122381389807), (3.710795063055896, 1.2000000000000002))
            ThreePointArc((3.7107950630558957, 1.2), (5.6e-16, 3.9000000000000012), (-3.7107950630558952, 1.2000000000000006))
        make_face()
        with Locations(Location((0, 0, 0), (0, 0, 90))):
            Circle(SKETCH5_R_2, mode=Mode.SUBTRACT)
    extrude(amount=BOSS_EXTRUDE4_DEPTH)

    # Sketch6 → Cut-Extrude2 (cut, through all)
    with BuildSketch(Plane.XZ.offset(CUT_EXTRUDE2_START)):
        with BuildLine():
            Line((3.7107950630558957, -1.2), (142.42683759457205, -1.1999999999999997))
            Line((142.42683759457205, -1.1999999999999997), (148.4334201600817, -4.055529351643287))
            ThreePointArc((148.4334201600817, -4.055529351643287), (154.3832142263104, -7.86200143877705), (153.50000000000006, -0.8542049369441143))
            Line((153.50000000000006, -0.8542049369441143), (153.50000000000006, 187.3892049369441))
            ThreePointArc((153.50000000000006, 187.3892049369441), (155.05771644662758, 193.8577164466275), (148.58920493694416, 192.30000000000004))
            Line((148.58920493694416, 192.30000000000004), (3.7107950630559037, 192.30000000000004))
            ThreePointArc((3.7107950630559037, 192.30000000000004), (-2.757716446627498, 193.85771644662756), (-1.199999999999992, 187.38920493694414))
            Line((-1.199999999999992, 187.38920493694414), (-1.1999999999999837, 61.710795063055905))
            ThreePointArc((-1.1999999999999837, 61.710795063055905), (-2.757716446627537, 60.75771644662754), (-3.7107950630559032, 59.19999999999999))
            Line((-3.7107950630559032, 59.19999999999999), (-82.2892049369441, 59.19999999999999))
            ThreePointArc((-82.2892049369441, 59.19999999999999), (-88.75771644662754, 60.757716446627526), (-87.2, 54.2892049369441))
            Line((-87.2, 54.2892049369441), (-87.2, 3.7107950630558904))
            ThreePointArc((-87.2, 3.7107950630558904), (-88.75771644662753, -2.757716446627534), (-82.2892049369441, -1.2))
            Line((-82.2892049369441, -1.2), (-3.7107950630558957, -1.2))
            ThreePointArc((-3.7107950630558957, -1.2), (2.4e-16, -3.9000000000000012), (3.7107950630558957, -1.2))
        make_face()
    extrude(amount=-CUT_EXTRUDE2_DEPTH, mode=Mode.SUBTRACT)


solid = part_1.part
